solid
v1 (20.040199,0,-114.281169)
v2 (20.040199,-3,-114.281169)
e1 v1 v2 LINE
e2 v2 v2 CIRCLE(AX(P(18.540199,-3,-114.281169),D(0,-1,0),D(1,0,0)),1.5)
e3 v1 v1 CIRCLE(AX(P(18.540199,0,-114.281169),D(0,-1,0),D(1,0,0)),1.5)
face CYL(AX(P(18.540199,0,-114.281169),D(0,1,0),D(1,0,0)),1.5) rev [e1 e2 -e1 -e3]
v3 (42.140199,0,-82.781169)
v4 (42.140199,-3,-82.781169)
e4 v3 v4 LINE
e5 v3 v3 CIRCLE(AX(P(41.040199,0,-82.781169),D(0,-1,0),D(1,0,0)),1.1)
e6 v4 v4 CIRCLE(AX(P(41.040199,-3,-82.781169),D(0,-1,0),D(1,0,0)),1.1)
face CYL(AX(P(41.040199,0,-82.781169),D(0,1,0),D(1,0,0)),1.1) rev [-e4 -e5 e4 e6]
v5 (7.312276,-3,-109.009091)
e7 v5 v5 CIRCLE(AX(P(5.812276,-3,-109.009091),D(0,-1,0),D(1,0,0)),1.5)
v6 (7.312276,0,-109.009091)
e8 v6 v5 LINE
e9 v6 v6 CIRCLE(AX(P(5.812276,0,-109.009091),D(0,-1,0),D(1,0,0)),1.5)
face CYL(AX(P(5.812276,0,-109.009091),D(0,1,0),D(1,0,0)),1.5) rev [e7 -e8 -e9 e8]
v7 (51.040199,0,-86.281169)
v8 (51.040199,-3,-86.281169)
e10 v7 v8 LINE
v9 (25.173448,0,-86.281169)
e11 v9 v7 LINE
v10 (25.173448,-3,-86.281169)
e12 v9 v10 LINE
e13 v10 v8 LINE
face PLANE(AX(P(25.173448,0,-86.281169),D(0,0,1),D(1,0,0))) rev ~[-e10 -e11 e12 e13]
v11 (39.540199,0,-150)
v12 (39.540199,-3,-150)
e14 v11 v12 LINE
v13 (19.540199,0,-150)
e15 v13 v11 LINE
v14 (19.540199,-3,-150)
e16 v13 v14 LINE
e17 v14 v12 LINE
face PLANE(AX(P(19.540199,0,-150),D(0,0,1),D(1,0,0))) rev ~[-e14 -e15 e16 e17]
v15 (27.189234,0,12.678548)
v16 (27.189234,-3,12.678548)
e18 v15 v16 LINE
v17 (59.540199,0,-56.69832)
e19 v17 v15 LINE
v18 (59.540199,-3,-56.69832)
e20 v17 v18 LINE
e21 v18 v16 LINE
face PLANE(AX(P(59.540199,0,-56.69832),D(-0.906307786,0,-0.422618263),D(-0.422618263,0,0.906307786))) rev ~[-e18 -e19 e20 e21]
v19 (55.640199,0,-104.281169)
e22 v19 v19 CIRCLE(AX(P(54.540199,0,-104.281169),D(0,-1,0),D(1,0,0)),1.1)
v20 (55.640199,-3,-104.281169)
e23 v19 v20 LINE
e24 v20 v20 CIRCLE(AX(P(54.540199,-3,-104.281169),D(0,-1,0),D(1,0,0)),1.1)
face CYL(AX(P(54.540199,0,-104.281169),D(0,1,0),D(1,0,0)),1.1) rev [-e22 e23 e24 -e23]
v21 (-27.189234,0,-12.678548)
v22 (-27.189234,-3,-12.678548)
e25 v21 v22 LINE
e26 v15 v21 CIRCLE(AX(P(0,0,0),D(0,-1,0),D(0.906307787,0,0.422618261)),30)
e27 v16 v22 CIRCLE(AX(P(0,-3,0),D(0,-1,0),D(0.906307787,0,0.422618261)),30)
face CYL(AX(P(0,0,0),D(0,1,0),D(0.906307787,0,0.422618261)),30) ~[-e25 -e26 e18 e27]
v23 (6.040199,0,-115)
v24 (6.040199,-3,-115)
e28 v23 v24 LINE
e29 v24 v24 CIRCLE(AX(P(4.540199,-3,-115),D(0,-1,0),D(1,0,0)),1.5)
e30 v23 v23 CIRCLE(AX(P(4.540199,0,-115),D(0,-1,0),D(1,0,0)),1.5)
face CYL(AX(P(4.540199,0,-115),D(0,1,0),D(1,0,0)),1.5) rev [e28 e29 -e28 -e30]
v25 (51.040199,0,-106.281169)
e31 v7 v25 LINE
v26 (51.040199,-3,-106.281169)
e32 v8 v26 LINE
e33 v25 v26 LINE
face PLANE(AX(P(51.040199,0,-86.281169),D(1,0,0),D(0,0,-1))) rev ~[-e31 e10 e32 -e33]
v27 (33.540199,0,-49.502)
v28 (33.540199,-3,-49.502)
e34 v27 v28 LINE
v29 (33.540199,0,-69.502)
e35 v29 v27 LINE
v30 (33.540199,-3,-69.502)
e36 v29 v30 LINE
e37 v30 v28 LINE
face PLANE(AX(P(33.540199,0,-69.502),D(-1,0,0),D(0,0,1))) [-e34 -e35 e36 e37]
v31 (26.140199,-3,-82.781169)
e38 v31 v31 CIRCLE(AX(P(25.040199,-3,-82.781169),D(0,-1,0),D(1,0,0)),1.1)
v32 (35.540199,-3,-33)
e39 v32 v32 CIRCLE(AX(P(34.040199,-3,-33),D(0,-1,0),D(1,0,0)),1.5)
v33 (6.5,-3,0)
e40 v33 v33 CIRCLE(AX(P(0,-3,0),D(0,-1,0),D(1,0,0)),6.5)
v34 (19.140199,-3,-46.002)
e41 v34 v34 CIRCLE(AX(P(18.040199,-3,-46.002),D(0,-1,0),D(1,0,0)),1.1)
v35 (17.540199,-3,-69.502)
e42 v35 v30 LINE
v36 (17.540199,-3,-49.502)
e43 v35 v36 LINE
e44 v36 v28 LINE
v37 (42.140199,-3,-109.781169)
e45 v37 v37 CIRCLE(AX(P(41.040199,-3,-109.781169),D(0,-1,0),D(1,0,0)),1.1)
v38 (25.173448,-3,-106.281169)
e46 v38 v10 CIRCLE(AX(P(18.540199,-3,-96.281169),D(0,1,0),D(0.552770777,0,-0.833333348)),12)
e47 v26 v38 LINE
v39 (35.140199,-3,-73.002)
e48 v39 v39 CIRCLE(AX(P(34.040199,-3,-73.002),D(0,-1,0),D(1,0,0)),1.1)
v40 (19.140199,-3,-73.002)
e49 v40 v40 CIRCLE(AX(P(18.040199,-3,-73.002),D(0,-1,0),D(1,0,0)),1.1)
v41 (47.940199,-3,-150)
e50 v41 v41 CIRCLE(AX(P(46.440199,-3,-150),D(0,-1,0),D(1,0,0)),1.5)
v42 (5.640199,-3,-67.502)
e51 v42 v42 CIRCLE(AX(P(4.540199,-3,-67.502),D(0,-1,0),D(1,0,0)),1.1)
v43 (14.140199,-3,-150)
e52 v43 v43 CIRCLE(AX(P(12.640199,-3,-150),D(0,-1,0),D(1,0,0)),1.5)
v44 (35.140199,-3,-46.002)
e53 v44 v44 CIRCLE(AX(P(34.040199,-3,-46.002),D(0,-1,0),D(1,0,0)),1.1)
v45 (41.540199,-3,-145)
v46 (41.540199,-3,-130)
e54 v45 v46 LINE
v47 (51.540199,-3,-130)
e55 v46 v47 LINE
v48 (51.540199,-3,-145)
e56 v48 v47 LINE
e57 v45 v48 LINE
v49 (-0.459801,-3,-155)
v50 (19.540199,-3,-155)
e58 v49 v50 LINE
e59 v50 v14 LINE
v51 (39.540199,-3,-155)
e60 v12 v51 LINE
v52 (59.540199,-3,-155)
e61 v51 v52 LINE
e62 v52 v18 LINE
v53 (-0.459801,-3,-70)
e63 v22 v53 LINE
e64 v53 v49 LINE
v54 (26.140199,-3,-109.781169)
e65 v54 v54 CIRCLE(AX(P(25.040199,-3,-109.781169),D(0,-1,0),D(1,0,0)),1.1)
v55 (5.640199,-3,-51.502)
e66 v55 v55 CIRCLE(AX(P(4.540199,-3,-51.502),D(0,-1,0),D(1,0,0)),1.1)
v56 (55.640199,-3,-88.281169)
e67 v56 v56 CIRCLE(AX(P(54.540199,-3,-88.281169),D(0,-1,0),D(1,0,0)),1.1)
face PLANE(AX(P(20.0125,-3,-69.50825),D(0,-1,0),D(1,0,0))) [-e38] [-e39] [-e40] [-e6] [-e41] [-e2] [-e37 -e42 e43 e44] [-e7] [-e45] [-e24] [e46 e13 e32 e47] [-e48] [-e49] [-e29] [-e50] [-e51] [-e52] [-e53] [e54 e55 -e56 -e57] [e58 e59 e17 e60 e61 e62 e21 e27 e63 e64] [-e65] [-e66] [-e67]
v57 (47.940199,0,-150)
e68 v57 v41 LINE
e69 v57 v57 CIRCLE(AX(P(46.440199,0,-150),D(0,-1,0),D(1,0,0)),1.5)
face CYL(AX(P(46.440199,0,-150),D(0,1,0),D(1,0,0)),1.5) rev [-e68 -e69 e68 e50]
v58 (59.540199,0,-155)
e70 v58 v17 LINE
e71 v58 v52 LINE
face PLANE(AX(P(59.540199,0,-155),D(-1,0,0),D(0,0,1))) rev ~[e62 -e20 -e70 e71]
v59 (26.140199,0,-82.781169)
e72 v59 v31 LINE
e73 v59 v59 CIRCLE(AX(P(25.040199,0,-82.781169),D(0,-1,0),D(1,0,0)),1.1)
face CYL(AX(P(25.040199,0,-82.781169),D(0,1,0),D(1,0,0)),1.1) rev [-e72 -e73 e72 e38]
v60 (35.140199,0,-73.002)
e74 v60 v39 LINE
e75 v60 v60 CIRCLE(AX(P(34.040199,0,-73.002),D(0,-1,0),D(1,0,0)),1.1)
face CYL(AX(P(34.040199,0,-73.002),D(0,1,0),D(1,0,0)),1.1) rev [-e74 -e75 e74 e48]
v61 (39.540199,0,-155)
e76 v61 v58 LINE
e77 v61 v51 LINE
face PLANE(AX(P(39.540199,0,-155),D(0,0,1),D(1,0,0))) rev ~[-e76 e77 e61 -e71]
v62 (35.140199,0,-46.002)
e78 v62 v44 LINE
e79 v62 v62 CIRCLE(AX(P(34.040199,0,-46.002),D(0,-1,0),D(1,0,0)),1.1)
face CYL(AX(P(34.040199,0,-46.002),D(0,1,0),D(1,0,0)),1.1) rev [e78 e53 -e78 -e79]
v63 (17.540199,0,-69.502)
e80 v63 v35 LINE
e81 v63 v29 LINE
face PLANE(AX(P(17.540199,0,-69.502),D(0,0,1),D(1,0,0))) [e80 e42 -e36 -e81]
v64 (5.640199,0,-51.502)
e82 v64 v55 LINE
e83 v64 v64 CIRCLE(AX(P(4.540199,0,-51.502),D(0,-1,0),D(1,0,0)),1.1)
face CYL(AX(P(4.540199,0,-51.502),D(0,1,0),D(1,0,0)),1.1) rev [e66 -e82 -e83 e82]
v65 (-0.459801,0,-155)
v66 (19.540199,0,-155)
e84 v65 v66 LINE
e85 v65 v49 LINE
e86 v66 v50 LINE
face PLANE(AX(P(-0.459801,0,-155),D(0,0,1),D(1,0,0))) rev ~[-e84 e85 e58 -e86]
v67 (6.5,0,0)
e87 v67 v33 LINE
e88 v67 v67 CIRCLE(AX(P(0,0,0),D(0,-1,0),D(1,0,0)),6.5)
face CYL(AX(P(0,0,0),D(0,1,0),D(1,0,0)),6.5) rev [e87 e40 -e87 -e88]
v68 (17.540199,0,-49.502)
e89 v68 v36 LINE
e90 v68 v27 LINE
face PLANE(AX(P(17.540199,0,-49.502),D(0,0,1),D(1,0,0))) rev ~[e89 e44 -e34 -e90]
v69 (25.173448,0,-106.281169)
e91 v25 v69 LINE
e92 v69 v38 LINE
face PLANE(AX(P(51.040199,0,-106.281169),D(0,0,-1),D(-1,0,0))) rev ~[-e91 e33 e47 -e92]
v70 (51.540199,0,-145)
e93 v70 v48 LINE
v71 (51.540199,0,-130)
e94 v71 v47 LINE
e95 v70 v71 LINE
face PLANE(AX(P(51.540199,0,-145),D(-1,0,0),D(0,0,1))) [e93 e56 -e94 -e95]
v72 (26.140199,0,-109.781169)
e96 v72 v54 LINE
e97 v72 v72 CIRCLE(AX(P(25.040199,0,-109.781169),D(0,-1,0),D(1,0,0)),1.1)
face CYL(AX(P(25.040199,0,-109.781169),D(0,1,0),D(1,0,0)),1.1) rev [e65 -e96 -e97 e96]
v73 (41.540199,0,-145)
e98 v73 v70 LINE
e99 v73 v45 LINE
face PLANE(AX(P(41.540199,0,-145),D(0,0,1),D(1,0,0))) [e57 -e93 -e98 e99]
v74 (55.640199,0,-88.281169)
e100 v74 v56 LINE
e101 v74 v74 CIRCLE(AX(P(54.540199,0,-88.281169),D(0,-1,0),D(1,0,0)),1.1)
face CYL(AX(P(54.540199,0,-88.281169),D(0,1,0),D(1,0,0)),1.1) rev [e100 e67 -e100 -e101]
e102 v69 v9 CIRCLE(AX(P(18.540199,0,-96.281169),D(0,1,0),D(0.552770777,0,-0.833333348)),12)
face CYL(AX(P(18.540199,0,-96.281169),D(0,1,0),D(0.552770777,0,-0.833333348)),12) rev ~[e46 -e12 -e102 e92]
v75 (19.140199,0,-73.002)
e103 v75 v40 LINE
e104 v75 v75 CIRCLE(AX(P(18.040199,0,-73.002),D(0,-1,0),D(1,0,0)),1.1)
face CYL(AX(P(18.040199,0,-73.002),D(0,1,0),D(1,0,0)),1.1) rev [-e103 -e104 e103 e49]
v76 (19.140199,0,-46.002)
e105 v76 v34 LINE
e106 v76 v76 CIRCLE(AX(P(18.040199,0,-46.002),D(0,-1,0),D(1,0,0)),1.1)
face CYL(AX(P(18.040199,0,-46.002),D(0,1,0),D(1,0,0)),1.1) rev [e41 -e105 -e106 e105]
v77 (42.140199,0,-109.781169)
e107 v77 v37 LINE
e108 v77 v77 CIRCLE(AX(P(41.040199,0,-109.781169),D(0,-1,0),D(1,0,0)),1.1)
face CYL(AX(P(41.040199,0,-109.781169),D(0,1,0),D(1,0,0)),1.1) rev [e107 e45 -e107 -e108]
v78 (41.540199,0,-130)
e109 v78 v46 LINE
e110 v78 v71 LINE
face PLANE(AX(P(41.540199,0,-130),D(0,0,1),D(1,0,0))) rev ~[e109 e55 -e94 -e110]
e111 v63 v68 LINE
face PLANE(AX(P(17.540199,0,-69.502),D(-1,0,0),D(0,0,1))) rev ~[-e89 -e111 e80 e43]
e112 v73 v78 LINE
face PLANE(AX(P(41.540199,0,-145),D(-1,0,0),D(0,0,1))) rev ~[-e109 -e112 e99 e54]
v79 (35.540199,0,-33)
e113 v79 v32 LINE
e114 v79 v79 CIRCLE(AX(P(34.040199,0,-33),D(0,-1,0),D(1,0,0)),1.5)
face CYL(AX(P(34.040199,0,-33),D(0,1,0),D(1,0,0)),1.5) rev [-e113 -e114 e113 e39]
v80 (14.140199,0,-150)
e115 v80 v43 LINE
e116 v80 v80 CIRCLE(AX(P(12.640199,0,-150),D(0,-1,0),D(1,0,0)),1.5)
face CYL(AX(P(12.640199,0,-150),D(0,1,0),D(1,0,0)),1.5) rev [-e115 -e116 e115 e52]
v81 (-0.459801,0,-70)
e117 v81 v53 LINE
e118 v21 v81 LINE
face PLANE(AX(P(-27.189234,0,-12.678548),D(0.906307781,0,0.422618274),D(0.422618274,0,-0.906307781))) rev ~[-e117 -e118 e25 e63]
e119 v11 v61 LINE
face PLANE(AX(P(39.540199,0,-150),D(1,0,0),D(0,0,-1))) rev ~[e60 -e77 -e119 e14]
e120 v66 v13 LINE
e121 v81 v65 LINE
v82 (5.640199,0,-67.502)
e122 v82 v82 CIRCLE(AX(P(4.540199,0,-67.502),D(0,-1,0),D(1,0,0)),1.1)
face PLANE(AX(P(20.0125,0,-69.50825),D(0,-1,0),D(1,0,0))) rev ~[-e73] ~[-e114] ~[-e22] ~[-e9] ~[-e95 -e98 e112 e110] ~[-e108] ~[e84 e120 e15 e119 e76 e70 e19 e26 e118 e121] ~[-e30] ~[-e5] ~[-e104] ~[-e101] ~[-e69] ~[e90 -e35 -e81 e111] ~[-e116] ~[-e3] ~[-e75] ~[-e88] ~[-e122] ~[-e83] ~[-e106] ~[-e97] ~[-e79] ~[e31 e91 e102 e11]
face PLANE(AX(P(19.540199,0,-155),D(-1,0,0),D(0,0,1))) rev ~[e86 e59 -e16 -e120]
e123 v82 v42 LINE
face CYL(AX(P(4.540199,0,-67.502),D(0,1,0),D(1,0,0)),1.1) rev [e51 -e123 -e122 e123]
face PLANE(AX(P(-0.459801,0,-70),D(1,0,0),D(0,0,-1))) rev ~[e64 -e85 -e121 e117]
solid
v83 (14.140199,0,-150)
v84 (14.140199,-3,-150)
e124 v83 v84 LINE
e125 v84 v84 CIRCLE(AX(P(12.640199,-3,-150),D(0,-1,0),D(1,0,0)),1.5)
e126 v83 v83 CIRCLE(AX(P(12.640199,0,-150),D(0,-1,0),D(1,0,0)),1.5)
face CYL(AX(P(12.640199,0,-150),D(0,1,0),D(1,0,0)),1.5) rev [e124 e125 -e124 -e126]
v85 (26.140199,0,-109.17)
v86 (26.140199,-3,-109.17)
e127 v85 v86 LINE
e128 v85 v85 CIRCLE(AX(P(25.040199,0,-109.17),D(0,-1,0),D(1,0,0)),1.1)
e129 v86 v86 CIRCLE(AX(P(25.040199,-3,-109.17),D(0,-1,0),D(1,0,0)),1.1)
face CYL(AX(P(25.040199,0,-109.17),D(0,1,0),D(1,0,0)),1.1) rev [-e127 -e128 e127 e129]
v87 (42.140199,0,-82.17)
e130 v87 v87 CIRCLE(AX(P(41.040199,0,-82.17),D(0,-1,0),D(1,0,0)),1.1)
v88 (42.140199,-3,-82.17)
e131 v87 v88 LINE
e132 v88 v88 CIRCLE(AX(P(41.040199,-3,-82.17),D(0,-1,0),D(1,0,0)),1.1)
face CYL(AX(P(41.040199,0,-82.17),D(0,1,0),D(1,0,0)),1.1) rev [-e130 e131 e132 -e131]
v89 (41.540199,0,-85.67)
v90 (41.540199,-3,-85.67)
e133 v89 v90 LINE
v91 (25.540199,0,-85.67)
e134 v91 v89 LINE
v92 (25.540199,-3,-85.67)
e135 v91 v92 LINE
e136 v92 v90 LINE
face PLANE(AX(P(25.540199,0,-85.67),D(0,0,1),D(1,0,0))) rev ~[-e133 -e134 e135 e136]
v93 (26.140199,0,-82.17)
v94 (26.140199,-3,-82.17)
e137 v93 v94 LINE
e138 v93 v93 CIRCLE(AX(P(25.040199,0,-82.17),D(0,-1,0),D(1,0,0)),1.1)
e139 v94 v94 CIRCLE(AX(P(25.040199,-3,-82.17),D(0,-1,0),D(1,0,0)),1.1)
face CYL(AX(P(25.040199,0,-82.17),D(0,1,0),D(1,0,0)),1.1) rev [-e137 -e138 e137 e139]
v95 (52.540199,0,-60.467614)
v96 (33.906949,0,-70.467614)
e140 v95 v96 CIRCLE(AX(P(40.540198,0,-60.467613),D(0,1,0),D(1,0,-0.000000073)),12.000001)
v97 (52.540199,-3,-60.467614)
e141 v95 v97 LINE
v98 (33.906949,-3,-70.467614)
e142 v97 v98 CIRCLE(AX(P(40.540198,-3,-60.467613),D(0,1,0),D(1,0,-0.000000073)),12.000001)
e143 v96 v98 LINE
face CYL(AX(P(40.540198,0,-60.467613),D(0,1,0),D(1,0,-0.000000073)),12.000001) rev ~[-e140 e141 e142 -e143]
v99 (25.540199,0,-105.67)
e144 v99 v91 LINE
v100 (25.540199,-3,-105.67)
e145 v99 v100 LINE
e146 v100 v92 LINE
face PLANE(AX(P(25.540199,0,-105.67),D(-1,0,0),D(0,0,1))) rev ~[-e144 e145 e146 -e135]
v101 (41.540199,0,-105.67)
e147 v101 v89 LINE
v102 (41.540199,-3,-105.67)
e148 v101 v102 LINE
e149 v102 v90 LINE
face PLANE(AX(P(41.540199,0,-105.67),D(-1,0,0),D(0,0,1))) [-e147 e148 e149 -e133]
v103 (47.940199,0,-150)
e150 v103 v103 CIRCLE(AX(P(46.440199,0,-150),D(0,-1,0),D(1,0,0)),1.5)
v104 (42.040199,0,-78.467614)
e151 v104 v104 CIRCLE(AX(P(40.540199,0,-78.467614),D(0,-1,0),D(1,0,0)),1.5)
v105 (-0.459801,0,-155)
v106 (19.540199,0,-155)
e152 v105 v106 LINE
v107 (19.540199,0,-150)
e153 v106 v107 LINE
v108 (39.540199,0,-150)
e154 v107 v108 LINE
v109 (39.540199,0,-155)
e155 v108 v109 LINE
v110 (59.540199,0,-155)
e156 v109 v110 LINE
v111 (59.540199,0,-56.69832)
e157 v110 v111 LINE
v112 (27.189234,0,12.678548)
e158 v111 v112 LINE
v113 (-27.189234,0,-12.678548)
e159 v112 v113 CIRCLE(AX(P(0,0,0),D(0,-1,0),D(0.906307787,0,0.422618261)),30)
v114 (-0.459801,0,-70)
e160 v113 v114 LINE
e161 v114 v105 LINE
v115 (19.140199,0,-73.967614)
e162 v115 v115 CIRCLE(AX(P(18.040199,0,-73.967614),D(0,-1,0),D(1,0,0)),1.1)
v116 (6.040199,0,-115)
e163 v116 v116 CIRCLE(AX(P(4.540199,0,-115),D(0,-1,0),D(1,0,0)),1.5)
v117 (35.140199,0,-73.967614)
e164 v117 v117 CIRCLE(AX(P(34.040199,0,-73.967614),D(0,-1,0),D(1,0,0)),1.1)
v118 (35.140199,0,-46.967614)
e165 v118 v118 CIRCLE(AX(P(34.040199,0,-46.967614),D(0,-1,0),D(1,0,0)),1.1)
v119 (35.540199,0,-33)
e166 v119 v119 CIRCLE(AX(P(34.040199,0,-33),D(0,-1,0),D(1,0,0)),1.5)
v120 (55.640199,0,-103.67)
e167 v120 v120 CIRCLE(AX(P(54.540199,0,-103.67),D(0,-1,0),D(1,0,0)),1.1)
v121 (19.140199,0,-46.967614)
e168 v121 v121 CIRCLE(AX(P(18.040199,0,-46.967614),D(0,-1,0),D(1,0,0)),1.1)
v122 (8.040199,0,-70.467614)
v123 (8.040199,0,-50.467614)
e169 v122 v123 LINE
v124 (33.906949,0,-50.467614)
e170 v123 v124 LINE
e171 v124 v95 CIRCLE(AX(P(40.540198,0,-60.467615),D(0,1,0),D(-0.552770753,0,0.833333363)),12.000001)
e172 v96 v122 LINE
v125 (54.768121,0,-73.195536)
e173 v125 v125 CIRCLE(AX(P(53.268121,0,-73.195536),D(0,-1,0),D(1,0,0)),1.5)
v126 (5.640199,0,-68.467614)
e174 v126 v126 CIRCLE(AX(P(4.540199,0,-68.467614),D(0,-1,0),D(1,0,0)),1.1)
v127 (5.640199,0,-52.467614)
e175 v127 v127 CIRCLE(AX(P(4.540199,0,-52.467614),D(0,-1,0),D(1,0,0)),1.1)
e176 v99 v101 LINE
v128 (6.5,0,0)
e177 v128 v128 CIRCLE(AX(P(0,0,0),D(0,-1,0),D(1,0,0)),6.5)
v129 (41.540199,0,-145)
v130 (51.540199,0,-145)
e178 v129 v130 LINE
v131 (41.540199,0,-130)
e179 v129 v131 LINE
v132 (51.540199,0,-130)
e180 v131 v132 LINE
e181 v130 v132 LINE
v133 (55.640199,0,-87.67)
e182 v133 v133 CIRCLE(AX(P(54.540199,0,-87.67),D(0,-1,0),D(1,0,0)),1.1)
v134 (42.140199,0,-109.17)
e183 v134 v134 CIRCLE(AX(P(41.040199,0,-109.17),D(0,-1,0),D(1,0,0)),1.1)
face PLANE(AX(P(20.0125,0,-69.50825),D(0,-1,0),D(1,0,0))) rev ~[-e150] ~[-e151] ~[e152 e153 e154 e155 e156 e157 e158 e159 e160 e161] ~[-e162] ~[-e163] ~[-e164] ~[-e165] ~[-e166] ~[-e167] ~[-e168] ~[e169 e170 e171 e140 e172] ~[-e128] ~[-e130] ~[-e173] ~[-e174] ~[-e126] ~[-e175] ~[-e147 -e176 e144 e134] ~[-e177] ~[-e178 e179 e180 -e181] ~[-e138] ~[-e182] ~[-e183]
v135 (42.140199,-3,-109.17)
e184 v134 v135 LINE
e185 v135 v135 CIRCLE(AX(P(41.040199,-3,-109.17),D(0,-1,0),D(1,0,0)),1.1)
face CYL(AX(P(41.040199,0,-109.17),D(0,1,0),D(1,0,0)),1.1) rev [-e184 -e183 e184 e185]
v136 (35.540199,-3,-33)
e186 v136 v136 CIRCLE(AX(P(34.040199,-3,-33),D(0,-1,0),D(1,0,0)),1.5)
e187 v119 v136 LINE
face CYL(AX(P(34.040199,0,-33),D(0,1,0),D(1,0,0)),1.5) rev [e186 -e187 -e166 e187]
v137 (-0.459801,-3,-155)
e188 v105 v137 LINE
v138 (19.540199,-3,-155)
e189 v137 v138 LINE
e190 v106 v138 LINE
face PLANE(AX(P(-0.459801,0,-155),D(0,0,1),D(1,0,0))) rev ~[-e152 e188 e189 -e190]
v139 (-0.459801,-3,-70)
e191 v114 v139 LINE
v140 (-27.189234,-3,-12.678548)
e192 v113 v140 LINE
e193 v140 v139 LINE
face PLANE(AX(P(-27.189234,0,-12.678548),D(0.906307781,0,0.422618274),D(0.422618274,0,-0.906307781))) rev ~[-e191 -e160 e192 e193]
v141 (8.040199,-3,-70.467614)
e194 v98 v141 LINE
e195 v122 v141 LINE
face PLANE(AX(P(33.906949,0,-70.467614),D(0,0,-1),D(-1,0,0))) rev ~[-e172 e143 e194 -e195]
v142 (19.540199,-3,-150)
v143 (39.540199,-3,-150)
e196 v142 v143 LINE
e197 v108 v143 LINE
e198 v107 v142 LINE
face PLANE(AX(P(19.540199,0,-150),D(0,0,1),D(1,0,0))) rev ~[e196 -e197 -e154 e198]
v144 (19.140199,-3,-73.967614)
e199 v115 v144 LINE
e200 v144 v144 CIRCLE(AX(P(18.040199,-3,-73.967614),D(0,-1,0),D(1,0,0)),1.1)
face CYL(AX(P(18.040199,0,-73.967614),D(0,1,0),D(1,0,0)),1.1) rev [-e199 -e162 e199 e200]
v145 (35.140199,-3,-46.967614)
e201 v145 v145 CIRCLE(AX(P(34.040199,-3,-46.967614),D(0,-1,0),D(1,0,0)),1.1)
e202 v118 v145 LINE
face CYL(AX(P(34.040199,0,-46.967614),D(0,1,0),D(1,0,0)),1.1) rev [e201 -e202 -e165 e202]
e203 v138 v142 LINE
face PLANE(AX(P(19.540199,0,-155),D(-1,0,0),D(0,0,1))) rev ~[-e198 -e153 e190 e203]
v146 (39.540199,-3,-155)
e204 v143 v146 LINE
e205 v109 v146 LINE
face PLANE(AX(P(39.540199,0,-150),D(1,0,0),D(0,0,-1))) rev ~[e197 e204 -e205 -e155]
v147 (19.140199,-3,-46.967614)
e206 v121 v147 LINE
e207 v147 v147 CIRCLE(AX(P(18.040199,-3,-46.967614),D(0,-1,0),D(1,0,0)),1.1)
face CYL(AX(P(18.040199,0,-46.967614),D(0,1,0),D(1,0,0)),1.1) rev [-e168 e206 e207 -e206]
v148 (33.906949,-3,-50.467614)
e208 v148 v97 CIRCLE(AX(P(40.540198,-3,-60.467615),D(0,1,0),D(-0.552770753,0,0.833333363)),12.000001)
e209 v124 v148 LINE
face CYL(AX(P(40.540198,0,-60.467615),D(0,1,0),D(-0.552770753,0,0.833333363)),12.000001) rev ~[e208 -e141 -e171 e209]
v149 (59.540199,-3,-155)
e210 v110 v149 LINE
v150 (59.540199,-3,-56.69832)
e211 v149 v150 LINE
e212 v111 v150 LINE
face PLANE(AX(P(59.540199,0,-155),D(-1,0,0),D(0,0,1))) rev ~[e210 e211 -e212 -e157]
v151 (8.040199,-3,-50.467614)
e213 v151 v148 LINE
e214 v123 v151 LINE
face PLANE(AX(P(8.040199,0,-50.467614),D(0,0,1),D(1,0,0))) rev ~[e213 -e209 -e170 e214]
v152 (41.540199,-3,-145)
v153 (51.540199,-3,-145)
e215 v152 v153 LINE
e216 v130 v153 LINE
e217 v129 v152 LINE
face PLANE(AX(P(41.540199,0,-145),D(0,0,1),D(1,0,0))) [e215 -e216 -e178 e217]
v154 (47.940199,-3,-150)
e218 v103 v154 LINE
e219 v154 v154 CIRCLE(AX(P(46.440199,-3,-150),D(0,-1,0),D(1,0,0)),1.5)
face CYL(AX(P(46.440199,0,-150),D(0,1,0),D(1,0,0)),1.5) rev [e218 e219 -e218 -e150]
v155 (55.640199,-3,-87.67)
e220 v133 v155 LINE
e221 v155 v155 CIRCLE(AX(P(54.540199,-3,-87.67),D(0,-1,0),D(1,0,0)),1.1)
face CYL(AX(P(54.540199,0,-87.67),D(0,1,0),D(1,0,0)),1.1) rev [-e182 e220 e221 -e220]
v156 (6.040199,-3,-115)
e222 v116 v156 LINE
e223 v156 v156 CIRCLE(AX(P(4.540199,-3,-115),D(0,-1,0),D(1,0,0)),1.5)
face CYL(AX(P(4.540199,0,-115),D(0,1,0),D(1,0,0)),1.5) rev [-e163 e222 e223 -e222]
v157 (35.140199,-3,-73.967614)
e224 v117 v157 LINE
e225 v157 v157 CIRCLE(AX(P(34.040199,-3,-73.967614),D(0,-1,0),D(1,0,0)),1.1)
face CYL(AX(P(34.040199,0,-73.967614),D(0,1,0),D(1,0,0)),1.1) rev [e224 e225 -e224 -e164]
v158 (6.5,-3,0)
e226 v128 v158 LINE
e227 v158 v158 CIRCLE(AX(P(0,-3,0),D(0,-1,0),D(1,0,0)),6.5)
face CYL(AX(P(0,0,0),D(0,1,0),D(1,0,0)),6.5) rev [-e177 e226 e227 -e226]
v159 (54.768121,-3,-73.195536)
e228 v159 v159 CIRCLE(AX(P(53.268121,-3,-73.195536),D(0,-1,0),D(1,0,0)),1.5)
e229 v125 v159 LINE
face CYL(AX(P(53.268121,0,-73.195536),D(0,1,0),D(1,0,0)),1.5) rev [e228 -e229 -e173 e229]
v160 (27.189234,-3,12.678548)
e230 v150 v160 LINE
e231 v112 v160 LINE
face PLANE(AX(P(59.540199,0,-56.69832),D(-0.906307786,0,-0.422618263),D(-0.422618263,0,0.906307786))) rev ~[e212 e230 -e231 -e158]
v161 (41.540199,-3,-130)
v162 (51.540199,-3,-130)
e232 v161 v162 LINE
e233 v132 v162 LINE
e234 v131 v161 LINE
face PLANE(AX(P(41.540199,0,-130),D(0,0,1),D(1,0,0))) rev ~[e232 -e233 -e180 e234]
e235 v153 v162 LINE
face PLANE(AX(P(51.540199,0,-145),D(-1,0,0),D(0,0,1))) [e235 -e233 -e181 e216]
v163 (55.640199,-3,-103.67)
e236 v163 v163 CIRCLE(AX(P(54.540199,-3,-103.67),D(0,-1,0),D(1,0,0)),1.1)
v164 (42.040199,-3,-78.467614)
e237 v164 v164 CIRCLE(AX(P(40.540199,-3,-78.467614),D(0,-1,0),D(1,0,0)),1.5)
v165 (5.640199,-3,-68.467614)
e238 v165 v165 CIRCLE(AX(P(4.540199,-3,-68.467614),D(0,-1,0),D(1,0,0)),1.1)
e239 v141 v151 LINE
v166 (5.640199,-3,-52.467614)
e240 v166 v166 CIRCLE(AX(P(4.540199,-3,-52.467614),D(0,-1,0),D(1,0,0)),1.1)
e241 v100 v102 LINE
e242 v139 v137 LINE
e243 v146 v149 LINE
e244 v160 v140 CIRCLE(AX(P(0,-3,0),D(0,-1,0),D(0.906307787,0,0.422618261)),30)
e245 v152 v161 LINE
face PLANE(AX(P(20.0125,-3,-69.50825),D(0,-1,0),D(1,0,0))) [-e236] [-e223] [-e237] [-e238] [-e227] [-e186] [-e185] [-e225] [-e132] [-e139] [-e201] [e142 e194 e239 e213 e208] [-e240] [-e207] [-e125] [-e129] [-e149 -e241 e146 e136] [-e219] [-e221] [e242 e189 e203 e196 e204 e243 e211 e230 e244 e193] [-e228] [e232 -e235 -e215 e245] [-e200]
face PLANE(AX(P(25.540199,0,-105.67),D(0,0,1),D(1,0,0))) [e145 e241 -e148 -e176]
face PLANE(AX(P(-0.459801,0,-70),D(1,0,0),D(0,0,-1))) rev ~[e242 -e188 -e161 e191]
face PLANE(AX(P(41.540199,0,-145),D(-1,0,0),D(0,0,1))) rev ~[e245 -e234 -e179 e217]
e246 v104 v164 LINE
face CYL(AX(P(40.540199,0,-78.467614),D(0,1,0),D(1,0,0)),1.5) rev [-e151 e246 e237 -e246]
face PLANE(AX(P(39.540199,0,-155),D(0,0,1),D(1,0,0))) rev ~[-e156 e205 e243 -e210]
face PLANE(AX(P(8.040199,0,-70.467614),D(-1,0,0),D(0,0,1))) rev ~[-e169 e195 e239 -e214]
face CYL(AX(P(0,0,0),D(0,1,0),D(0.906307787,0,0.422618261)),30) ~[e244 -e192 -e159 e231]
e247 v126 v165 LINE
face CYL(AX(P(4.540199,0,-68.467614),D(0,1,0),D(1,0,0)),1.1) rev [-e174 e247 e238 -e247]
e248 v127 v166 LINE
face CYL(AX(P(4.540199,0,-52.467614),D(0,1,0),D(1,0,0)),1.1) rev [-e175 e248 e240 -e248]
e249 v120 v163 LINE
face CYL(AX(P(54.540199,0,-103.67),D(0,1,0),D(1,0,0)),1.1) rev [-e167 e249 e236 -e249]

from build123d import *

# Parameters (mm, degrees)
F0_R     = 1.5
F0_R_2   = 1.1
F0_W     = 10
F0_H     = 15
F0_R_3   = 6.5
F0_W_2   = 16
F0_H_2   = 20
F2_DEPTH = 3
F1_R     = 1.5
F1_R_2   = 1.1
F1_W     = 10
F1_H     = 15
F1_W_2   = 16
F1_H_2   = 20
F1_R_3   = 6.5
F3_DEPTH = 3


with BuildPart() as f2:
    # F0 (on Front) → F2 (new body)
    with BuildSketch(Plane.XZ):
        with BuildLine():
            ThreePointArc((27.189234, 12.678548), (-12.678548, 27.189234), (-27.189234, -12.678548))
            Line((-27.189234, -12.678548), (-0.459801, -70))
            Line((-0.459801, -70), (-0.459801, -150))
            Line((-0.459801, -150), (-0.459801, -155))
            Line((-0.459801, -155), (19.540199, -155))
            Line((19.540199, -155), (19.540199, -150))
            Line((19.540199, -150), (39.540199, -150))
            Line((39.540199, -150), (39.540199, -155))
            Line((39.540199, -155), (59.540199, -155))
            Line((59.540199, -155), (59.540199, -150))
            Line((59.540199, -150), (59.540199, -56.69832))
            Line((59.540199, -56.69832), (27.189234, 12.678548))
        make_face()
        with Locations((12.640199, -150)):
            Circle(F0_R, mode=Mode.SUBTRACT)
        with Locations((4.540199, -115)):
            Circle(F0_R, mode=Mode.SUBTRACT)
        with Locations((5.812276, -109.009091)):
            Circle(F0_R, mode=Mode.SUBTRACT)
        with Locations((4.540199, -67.502)):
            Circle(F0_R_2, mode=Mode.SUBTRACT)
        with Locations((18.540199, -114.281169)):
            Circle(F0_R, mode=Mode.SUBTRACT)
        with Locations((25.040199, -109.781169)):
            Circle(F0_R_2, mode=Mode.SUBTRACT)
        with Locations((46.440199, -150)):
            Circle(F0_R, mode=Mode.SUBTRACT)
        with Locations((46.540199, -137.5)):
            Rectangle(F0_W, F0_H, mode=Mode.SUBTRACT)
        with Locations((41.040199, -109.781169)):
            Circle(F0_R_2, mode=Mode.SUBTRACT)
        with BuildLine():
            ThreePointArc((25.173448, -106.281169), (6.540199, -96.281169), (25.173448, -86.281169))
            Line((25.173448, -86.281169), (51.040199, -86.281169))
            Line((51.040199, -86.281169), (51.040199, -106.281169))
            Line((51.040199, -106.281169), (25.173448, -106.281169))
        make_face(mode=Mode.SUBTRACT)
        with Locations((25.040199, -82.781169)):
            Circle(F0_R_2, mode=Mode.SUBTRACT)
        with Locations((18.040199, -73.002)):
            Circle(F0_R_2, mode=Mode.SUBTRACT)
        with Locations((34.040199, -73.002)):
            Circle(F0_R_2, mode=Mode.SUBTRACT)
        with Locations((54.540199, -104.281169)):
            Circle(F0_R_2, mode=Mode.SUBTRACT)
        with Locations((54.540199, -88.281169)):
            Circle(F0_R_2, mode=Mode.SUBTRACT)
        with Locations((41.040199, -82.781169)):
            Circle(F0_R_2, mode=Mode.SUBTRACT)
        with Locations((4.540199, -51.502)):
            Circle(F0_R_2, mode=Mode.SUBTRACT)
        Circle(F0_R_3, mode=Mode.SUBTRACT)
        with Locations((25.540199, -59.502)):
            Rectangle(F0_W_2, F0_H_2, mode=Mode.SUBTRACT)
        with Locations((18.040199, -46.002)):
            Circle(F0_R_2, mode=Mode.SUBTRACT)
        with Locations((34.040199, -46.002)):
            Circle(F0_R_2, mode=Mode.SUBTRACT)
        with Locations((34.040199, -33)):
            Circle(F0_R, mode=Mode.SUBTRACT)
    extrude(amount=F2_DEPTH)


with BuildPart() as f3:
    # F1 (on Front) → F3 (new body)
    with BuildSketch(Plane.XZ):
        with BuildLine():
            ThreePointArc((27.189234, 12.678548), (-12.678548, 27.189234), (-27.189234, -12.678548))
            Line((-27.189234, -12.678548), (-0.459801, -70))
            Line((-0.459801, -70), (-0.459801, -150))
            Line((-0.459801, -150), (-0.459801, -155))
            Line((-0.459801, -155), (19.540199, -155))
            Line((19.540199, -155), (19.540199, -150))
            Line((19.540199, -150), (39.540199, -150))
            Line((39.540199, -150), (39.540199, -155))
            Line((39.540199, -155), (59.540199, -155))
            Line((59.540199, -155), (59.540199, -150))
            Line((59.540199, -150), (59.540199, -56.69832))
            Line((59.540199, -56.69832), (27.189234, 12.678548))
        make_face()
        with Locations((12.640199, -150)):
            Circle(F1_R, mode=Mode.SUBTRACT)
        with Locations((4.540199, -115)):
            Circle(F1_R, mode=Mode.SUBTRACT)
        with Locations((4.540199, -68.467614)):
            Circle(F1_R_2, mode=Mode.SUBTRACT)
        with Locations((25.040199, -109.17)):
            Circle(F1_R_2, mode=Mode.SUBTRACT)
        with Locations((46.440199, -150)):
            Circle(F1_R, mode=Mode.SUBTRACT)
        with Locations((46.540199, -137.5)):
            Rectangle(F1_W, F1_H, mode=Mode.SUBTRACT)
        with Locations((41.040199, -109.17)):
            Circle(F1_R_2, mode=Mode.SUBTRACT)
        with Locations((33.540199, -95.67)):
            Rectangle(F1_W_2, F1_H_2, mode=Mode.SUBTRACT)
        with Locations((25.040199, -82.17)):
            Circle(F1_R_2, mode=Mode.SUBTRACT)
        with Locations((18.040199, -73.967614)):
            Circle(F1_R_2, mode=Mode.SUBTRACT)
        with Locations((34.040199, -73.967614)):
            Circle(F1_R_2, mode=Mode.SUBTRACT)
        with Locations((54.540199, -103.67)):
            Circle(F1_R_2, mode=Mode.SUBTRACT)
        with Locations((54.540199, -87.67)):
            Circle(F1_R_2, mode=Mode.SUBTRACT)
        with Locations((41.040199, -82.17)):
            Circle(F1_R_2, mode=Mode.SUBTRACT)
        with Locations((40.540199, -78.467614)):
            Circle(F1_R, mode=Mode.SUBTRACT)
        with Locations((53.268121, -73.195536)):
            Circle(F1_R, mode=Mode.SUBTRACT)
        with Locations((4.540199, -52.467614)):
            Circle(F1_R_2, mode=Mode.SUBTRACT)
        Circle(F1_R_3, mode=Mode.SUBTRACT)
        with Locations((18.040199, -46.967614)):
            Circle(F1_R_2, mode=Mode.SUBTRACT)
        with BuildLine():
            ThreePointArc((33.906949, -50.467614), (46.214747, -49.894086), (52.540199, -60.467614))
            ThreePointArc((52.540199, -60.467614), (46.214747, -71.041142), (33.906949, -70.467614))
            Line((33.906949, -70.467614), (8.040199, -70.467614))
            Line((8.040199, -70.467614), (8.040199, -50.467614))
            Line((8.040199, -50.467614), (33.906949, -50.467614))
        make_face(mode=Mode.SUBTRACT)
        with Locations((34.040199, -46.967614)):
            Circle(F1_R_2, mode=Mode.SUBTRACT)
        with Locations((34.040199, -33)):
            Circle(F1_R, mode=Mode.SUBTRACT)
    extrude(amount=F3_DEPTH)


solid = Compound([f2.part, f3.part])
